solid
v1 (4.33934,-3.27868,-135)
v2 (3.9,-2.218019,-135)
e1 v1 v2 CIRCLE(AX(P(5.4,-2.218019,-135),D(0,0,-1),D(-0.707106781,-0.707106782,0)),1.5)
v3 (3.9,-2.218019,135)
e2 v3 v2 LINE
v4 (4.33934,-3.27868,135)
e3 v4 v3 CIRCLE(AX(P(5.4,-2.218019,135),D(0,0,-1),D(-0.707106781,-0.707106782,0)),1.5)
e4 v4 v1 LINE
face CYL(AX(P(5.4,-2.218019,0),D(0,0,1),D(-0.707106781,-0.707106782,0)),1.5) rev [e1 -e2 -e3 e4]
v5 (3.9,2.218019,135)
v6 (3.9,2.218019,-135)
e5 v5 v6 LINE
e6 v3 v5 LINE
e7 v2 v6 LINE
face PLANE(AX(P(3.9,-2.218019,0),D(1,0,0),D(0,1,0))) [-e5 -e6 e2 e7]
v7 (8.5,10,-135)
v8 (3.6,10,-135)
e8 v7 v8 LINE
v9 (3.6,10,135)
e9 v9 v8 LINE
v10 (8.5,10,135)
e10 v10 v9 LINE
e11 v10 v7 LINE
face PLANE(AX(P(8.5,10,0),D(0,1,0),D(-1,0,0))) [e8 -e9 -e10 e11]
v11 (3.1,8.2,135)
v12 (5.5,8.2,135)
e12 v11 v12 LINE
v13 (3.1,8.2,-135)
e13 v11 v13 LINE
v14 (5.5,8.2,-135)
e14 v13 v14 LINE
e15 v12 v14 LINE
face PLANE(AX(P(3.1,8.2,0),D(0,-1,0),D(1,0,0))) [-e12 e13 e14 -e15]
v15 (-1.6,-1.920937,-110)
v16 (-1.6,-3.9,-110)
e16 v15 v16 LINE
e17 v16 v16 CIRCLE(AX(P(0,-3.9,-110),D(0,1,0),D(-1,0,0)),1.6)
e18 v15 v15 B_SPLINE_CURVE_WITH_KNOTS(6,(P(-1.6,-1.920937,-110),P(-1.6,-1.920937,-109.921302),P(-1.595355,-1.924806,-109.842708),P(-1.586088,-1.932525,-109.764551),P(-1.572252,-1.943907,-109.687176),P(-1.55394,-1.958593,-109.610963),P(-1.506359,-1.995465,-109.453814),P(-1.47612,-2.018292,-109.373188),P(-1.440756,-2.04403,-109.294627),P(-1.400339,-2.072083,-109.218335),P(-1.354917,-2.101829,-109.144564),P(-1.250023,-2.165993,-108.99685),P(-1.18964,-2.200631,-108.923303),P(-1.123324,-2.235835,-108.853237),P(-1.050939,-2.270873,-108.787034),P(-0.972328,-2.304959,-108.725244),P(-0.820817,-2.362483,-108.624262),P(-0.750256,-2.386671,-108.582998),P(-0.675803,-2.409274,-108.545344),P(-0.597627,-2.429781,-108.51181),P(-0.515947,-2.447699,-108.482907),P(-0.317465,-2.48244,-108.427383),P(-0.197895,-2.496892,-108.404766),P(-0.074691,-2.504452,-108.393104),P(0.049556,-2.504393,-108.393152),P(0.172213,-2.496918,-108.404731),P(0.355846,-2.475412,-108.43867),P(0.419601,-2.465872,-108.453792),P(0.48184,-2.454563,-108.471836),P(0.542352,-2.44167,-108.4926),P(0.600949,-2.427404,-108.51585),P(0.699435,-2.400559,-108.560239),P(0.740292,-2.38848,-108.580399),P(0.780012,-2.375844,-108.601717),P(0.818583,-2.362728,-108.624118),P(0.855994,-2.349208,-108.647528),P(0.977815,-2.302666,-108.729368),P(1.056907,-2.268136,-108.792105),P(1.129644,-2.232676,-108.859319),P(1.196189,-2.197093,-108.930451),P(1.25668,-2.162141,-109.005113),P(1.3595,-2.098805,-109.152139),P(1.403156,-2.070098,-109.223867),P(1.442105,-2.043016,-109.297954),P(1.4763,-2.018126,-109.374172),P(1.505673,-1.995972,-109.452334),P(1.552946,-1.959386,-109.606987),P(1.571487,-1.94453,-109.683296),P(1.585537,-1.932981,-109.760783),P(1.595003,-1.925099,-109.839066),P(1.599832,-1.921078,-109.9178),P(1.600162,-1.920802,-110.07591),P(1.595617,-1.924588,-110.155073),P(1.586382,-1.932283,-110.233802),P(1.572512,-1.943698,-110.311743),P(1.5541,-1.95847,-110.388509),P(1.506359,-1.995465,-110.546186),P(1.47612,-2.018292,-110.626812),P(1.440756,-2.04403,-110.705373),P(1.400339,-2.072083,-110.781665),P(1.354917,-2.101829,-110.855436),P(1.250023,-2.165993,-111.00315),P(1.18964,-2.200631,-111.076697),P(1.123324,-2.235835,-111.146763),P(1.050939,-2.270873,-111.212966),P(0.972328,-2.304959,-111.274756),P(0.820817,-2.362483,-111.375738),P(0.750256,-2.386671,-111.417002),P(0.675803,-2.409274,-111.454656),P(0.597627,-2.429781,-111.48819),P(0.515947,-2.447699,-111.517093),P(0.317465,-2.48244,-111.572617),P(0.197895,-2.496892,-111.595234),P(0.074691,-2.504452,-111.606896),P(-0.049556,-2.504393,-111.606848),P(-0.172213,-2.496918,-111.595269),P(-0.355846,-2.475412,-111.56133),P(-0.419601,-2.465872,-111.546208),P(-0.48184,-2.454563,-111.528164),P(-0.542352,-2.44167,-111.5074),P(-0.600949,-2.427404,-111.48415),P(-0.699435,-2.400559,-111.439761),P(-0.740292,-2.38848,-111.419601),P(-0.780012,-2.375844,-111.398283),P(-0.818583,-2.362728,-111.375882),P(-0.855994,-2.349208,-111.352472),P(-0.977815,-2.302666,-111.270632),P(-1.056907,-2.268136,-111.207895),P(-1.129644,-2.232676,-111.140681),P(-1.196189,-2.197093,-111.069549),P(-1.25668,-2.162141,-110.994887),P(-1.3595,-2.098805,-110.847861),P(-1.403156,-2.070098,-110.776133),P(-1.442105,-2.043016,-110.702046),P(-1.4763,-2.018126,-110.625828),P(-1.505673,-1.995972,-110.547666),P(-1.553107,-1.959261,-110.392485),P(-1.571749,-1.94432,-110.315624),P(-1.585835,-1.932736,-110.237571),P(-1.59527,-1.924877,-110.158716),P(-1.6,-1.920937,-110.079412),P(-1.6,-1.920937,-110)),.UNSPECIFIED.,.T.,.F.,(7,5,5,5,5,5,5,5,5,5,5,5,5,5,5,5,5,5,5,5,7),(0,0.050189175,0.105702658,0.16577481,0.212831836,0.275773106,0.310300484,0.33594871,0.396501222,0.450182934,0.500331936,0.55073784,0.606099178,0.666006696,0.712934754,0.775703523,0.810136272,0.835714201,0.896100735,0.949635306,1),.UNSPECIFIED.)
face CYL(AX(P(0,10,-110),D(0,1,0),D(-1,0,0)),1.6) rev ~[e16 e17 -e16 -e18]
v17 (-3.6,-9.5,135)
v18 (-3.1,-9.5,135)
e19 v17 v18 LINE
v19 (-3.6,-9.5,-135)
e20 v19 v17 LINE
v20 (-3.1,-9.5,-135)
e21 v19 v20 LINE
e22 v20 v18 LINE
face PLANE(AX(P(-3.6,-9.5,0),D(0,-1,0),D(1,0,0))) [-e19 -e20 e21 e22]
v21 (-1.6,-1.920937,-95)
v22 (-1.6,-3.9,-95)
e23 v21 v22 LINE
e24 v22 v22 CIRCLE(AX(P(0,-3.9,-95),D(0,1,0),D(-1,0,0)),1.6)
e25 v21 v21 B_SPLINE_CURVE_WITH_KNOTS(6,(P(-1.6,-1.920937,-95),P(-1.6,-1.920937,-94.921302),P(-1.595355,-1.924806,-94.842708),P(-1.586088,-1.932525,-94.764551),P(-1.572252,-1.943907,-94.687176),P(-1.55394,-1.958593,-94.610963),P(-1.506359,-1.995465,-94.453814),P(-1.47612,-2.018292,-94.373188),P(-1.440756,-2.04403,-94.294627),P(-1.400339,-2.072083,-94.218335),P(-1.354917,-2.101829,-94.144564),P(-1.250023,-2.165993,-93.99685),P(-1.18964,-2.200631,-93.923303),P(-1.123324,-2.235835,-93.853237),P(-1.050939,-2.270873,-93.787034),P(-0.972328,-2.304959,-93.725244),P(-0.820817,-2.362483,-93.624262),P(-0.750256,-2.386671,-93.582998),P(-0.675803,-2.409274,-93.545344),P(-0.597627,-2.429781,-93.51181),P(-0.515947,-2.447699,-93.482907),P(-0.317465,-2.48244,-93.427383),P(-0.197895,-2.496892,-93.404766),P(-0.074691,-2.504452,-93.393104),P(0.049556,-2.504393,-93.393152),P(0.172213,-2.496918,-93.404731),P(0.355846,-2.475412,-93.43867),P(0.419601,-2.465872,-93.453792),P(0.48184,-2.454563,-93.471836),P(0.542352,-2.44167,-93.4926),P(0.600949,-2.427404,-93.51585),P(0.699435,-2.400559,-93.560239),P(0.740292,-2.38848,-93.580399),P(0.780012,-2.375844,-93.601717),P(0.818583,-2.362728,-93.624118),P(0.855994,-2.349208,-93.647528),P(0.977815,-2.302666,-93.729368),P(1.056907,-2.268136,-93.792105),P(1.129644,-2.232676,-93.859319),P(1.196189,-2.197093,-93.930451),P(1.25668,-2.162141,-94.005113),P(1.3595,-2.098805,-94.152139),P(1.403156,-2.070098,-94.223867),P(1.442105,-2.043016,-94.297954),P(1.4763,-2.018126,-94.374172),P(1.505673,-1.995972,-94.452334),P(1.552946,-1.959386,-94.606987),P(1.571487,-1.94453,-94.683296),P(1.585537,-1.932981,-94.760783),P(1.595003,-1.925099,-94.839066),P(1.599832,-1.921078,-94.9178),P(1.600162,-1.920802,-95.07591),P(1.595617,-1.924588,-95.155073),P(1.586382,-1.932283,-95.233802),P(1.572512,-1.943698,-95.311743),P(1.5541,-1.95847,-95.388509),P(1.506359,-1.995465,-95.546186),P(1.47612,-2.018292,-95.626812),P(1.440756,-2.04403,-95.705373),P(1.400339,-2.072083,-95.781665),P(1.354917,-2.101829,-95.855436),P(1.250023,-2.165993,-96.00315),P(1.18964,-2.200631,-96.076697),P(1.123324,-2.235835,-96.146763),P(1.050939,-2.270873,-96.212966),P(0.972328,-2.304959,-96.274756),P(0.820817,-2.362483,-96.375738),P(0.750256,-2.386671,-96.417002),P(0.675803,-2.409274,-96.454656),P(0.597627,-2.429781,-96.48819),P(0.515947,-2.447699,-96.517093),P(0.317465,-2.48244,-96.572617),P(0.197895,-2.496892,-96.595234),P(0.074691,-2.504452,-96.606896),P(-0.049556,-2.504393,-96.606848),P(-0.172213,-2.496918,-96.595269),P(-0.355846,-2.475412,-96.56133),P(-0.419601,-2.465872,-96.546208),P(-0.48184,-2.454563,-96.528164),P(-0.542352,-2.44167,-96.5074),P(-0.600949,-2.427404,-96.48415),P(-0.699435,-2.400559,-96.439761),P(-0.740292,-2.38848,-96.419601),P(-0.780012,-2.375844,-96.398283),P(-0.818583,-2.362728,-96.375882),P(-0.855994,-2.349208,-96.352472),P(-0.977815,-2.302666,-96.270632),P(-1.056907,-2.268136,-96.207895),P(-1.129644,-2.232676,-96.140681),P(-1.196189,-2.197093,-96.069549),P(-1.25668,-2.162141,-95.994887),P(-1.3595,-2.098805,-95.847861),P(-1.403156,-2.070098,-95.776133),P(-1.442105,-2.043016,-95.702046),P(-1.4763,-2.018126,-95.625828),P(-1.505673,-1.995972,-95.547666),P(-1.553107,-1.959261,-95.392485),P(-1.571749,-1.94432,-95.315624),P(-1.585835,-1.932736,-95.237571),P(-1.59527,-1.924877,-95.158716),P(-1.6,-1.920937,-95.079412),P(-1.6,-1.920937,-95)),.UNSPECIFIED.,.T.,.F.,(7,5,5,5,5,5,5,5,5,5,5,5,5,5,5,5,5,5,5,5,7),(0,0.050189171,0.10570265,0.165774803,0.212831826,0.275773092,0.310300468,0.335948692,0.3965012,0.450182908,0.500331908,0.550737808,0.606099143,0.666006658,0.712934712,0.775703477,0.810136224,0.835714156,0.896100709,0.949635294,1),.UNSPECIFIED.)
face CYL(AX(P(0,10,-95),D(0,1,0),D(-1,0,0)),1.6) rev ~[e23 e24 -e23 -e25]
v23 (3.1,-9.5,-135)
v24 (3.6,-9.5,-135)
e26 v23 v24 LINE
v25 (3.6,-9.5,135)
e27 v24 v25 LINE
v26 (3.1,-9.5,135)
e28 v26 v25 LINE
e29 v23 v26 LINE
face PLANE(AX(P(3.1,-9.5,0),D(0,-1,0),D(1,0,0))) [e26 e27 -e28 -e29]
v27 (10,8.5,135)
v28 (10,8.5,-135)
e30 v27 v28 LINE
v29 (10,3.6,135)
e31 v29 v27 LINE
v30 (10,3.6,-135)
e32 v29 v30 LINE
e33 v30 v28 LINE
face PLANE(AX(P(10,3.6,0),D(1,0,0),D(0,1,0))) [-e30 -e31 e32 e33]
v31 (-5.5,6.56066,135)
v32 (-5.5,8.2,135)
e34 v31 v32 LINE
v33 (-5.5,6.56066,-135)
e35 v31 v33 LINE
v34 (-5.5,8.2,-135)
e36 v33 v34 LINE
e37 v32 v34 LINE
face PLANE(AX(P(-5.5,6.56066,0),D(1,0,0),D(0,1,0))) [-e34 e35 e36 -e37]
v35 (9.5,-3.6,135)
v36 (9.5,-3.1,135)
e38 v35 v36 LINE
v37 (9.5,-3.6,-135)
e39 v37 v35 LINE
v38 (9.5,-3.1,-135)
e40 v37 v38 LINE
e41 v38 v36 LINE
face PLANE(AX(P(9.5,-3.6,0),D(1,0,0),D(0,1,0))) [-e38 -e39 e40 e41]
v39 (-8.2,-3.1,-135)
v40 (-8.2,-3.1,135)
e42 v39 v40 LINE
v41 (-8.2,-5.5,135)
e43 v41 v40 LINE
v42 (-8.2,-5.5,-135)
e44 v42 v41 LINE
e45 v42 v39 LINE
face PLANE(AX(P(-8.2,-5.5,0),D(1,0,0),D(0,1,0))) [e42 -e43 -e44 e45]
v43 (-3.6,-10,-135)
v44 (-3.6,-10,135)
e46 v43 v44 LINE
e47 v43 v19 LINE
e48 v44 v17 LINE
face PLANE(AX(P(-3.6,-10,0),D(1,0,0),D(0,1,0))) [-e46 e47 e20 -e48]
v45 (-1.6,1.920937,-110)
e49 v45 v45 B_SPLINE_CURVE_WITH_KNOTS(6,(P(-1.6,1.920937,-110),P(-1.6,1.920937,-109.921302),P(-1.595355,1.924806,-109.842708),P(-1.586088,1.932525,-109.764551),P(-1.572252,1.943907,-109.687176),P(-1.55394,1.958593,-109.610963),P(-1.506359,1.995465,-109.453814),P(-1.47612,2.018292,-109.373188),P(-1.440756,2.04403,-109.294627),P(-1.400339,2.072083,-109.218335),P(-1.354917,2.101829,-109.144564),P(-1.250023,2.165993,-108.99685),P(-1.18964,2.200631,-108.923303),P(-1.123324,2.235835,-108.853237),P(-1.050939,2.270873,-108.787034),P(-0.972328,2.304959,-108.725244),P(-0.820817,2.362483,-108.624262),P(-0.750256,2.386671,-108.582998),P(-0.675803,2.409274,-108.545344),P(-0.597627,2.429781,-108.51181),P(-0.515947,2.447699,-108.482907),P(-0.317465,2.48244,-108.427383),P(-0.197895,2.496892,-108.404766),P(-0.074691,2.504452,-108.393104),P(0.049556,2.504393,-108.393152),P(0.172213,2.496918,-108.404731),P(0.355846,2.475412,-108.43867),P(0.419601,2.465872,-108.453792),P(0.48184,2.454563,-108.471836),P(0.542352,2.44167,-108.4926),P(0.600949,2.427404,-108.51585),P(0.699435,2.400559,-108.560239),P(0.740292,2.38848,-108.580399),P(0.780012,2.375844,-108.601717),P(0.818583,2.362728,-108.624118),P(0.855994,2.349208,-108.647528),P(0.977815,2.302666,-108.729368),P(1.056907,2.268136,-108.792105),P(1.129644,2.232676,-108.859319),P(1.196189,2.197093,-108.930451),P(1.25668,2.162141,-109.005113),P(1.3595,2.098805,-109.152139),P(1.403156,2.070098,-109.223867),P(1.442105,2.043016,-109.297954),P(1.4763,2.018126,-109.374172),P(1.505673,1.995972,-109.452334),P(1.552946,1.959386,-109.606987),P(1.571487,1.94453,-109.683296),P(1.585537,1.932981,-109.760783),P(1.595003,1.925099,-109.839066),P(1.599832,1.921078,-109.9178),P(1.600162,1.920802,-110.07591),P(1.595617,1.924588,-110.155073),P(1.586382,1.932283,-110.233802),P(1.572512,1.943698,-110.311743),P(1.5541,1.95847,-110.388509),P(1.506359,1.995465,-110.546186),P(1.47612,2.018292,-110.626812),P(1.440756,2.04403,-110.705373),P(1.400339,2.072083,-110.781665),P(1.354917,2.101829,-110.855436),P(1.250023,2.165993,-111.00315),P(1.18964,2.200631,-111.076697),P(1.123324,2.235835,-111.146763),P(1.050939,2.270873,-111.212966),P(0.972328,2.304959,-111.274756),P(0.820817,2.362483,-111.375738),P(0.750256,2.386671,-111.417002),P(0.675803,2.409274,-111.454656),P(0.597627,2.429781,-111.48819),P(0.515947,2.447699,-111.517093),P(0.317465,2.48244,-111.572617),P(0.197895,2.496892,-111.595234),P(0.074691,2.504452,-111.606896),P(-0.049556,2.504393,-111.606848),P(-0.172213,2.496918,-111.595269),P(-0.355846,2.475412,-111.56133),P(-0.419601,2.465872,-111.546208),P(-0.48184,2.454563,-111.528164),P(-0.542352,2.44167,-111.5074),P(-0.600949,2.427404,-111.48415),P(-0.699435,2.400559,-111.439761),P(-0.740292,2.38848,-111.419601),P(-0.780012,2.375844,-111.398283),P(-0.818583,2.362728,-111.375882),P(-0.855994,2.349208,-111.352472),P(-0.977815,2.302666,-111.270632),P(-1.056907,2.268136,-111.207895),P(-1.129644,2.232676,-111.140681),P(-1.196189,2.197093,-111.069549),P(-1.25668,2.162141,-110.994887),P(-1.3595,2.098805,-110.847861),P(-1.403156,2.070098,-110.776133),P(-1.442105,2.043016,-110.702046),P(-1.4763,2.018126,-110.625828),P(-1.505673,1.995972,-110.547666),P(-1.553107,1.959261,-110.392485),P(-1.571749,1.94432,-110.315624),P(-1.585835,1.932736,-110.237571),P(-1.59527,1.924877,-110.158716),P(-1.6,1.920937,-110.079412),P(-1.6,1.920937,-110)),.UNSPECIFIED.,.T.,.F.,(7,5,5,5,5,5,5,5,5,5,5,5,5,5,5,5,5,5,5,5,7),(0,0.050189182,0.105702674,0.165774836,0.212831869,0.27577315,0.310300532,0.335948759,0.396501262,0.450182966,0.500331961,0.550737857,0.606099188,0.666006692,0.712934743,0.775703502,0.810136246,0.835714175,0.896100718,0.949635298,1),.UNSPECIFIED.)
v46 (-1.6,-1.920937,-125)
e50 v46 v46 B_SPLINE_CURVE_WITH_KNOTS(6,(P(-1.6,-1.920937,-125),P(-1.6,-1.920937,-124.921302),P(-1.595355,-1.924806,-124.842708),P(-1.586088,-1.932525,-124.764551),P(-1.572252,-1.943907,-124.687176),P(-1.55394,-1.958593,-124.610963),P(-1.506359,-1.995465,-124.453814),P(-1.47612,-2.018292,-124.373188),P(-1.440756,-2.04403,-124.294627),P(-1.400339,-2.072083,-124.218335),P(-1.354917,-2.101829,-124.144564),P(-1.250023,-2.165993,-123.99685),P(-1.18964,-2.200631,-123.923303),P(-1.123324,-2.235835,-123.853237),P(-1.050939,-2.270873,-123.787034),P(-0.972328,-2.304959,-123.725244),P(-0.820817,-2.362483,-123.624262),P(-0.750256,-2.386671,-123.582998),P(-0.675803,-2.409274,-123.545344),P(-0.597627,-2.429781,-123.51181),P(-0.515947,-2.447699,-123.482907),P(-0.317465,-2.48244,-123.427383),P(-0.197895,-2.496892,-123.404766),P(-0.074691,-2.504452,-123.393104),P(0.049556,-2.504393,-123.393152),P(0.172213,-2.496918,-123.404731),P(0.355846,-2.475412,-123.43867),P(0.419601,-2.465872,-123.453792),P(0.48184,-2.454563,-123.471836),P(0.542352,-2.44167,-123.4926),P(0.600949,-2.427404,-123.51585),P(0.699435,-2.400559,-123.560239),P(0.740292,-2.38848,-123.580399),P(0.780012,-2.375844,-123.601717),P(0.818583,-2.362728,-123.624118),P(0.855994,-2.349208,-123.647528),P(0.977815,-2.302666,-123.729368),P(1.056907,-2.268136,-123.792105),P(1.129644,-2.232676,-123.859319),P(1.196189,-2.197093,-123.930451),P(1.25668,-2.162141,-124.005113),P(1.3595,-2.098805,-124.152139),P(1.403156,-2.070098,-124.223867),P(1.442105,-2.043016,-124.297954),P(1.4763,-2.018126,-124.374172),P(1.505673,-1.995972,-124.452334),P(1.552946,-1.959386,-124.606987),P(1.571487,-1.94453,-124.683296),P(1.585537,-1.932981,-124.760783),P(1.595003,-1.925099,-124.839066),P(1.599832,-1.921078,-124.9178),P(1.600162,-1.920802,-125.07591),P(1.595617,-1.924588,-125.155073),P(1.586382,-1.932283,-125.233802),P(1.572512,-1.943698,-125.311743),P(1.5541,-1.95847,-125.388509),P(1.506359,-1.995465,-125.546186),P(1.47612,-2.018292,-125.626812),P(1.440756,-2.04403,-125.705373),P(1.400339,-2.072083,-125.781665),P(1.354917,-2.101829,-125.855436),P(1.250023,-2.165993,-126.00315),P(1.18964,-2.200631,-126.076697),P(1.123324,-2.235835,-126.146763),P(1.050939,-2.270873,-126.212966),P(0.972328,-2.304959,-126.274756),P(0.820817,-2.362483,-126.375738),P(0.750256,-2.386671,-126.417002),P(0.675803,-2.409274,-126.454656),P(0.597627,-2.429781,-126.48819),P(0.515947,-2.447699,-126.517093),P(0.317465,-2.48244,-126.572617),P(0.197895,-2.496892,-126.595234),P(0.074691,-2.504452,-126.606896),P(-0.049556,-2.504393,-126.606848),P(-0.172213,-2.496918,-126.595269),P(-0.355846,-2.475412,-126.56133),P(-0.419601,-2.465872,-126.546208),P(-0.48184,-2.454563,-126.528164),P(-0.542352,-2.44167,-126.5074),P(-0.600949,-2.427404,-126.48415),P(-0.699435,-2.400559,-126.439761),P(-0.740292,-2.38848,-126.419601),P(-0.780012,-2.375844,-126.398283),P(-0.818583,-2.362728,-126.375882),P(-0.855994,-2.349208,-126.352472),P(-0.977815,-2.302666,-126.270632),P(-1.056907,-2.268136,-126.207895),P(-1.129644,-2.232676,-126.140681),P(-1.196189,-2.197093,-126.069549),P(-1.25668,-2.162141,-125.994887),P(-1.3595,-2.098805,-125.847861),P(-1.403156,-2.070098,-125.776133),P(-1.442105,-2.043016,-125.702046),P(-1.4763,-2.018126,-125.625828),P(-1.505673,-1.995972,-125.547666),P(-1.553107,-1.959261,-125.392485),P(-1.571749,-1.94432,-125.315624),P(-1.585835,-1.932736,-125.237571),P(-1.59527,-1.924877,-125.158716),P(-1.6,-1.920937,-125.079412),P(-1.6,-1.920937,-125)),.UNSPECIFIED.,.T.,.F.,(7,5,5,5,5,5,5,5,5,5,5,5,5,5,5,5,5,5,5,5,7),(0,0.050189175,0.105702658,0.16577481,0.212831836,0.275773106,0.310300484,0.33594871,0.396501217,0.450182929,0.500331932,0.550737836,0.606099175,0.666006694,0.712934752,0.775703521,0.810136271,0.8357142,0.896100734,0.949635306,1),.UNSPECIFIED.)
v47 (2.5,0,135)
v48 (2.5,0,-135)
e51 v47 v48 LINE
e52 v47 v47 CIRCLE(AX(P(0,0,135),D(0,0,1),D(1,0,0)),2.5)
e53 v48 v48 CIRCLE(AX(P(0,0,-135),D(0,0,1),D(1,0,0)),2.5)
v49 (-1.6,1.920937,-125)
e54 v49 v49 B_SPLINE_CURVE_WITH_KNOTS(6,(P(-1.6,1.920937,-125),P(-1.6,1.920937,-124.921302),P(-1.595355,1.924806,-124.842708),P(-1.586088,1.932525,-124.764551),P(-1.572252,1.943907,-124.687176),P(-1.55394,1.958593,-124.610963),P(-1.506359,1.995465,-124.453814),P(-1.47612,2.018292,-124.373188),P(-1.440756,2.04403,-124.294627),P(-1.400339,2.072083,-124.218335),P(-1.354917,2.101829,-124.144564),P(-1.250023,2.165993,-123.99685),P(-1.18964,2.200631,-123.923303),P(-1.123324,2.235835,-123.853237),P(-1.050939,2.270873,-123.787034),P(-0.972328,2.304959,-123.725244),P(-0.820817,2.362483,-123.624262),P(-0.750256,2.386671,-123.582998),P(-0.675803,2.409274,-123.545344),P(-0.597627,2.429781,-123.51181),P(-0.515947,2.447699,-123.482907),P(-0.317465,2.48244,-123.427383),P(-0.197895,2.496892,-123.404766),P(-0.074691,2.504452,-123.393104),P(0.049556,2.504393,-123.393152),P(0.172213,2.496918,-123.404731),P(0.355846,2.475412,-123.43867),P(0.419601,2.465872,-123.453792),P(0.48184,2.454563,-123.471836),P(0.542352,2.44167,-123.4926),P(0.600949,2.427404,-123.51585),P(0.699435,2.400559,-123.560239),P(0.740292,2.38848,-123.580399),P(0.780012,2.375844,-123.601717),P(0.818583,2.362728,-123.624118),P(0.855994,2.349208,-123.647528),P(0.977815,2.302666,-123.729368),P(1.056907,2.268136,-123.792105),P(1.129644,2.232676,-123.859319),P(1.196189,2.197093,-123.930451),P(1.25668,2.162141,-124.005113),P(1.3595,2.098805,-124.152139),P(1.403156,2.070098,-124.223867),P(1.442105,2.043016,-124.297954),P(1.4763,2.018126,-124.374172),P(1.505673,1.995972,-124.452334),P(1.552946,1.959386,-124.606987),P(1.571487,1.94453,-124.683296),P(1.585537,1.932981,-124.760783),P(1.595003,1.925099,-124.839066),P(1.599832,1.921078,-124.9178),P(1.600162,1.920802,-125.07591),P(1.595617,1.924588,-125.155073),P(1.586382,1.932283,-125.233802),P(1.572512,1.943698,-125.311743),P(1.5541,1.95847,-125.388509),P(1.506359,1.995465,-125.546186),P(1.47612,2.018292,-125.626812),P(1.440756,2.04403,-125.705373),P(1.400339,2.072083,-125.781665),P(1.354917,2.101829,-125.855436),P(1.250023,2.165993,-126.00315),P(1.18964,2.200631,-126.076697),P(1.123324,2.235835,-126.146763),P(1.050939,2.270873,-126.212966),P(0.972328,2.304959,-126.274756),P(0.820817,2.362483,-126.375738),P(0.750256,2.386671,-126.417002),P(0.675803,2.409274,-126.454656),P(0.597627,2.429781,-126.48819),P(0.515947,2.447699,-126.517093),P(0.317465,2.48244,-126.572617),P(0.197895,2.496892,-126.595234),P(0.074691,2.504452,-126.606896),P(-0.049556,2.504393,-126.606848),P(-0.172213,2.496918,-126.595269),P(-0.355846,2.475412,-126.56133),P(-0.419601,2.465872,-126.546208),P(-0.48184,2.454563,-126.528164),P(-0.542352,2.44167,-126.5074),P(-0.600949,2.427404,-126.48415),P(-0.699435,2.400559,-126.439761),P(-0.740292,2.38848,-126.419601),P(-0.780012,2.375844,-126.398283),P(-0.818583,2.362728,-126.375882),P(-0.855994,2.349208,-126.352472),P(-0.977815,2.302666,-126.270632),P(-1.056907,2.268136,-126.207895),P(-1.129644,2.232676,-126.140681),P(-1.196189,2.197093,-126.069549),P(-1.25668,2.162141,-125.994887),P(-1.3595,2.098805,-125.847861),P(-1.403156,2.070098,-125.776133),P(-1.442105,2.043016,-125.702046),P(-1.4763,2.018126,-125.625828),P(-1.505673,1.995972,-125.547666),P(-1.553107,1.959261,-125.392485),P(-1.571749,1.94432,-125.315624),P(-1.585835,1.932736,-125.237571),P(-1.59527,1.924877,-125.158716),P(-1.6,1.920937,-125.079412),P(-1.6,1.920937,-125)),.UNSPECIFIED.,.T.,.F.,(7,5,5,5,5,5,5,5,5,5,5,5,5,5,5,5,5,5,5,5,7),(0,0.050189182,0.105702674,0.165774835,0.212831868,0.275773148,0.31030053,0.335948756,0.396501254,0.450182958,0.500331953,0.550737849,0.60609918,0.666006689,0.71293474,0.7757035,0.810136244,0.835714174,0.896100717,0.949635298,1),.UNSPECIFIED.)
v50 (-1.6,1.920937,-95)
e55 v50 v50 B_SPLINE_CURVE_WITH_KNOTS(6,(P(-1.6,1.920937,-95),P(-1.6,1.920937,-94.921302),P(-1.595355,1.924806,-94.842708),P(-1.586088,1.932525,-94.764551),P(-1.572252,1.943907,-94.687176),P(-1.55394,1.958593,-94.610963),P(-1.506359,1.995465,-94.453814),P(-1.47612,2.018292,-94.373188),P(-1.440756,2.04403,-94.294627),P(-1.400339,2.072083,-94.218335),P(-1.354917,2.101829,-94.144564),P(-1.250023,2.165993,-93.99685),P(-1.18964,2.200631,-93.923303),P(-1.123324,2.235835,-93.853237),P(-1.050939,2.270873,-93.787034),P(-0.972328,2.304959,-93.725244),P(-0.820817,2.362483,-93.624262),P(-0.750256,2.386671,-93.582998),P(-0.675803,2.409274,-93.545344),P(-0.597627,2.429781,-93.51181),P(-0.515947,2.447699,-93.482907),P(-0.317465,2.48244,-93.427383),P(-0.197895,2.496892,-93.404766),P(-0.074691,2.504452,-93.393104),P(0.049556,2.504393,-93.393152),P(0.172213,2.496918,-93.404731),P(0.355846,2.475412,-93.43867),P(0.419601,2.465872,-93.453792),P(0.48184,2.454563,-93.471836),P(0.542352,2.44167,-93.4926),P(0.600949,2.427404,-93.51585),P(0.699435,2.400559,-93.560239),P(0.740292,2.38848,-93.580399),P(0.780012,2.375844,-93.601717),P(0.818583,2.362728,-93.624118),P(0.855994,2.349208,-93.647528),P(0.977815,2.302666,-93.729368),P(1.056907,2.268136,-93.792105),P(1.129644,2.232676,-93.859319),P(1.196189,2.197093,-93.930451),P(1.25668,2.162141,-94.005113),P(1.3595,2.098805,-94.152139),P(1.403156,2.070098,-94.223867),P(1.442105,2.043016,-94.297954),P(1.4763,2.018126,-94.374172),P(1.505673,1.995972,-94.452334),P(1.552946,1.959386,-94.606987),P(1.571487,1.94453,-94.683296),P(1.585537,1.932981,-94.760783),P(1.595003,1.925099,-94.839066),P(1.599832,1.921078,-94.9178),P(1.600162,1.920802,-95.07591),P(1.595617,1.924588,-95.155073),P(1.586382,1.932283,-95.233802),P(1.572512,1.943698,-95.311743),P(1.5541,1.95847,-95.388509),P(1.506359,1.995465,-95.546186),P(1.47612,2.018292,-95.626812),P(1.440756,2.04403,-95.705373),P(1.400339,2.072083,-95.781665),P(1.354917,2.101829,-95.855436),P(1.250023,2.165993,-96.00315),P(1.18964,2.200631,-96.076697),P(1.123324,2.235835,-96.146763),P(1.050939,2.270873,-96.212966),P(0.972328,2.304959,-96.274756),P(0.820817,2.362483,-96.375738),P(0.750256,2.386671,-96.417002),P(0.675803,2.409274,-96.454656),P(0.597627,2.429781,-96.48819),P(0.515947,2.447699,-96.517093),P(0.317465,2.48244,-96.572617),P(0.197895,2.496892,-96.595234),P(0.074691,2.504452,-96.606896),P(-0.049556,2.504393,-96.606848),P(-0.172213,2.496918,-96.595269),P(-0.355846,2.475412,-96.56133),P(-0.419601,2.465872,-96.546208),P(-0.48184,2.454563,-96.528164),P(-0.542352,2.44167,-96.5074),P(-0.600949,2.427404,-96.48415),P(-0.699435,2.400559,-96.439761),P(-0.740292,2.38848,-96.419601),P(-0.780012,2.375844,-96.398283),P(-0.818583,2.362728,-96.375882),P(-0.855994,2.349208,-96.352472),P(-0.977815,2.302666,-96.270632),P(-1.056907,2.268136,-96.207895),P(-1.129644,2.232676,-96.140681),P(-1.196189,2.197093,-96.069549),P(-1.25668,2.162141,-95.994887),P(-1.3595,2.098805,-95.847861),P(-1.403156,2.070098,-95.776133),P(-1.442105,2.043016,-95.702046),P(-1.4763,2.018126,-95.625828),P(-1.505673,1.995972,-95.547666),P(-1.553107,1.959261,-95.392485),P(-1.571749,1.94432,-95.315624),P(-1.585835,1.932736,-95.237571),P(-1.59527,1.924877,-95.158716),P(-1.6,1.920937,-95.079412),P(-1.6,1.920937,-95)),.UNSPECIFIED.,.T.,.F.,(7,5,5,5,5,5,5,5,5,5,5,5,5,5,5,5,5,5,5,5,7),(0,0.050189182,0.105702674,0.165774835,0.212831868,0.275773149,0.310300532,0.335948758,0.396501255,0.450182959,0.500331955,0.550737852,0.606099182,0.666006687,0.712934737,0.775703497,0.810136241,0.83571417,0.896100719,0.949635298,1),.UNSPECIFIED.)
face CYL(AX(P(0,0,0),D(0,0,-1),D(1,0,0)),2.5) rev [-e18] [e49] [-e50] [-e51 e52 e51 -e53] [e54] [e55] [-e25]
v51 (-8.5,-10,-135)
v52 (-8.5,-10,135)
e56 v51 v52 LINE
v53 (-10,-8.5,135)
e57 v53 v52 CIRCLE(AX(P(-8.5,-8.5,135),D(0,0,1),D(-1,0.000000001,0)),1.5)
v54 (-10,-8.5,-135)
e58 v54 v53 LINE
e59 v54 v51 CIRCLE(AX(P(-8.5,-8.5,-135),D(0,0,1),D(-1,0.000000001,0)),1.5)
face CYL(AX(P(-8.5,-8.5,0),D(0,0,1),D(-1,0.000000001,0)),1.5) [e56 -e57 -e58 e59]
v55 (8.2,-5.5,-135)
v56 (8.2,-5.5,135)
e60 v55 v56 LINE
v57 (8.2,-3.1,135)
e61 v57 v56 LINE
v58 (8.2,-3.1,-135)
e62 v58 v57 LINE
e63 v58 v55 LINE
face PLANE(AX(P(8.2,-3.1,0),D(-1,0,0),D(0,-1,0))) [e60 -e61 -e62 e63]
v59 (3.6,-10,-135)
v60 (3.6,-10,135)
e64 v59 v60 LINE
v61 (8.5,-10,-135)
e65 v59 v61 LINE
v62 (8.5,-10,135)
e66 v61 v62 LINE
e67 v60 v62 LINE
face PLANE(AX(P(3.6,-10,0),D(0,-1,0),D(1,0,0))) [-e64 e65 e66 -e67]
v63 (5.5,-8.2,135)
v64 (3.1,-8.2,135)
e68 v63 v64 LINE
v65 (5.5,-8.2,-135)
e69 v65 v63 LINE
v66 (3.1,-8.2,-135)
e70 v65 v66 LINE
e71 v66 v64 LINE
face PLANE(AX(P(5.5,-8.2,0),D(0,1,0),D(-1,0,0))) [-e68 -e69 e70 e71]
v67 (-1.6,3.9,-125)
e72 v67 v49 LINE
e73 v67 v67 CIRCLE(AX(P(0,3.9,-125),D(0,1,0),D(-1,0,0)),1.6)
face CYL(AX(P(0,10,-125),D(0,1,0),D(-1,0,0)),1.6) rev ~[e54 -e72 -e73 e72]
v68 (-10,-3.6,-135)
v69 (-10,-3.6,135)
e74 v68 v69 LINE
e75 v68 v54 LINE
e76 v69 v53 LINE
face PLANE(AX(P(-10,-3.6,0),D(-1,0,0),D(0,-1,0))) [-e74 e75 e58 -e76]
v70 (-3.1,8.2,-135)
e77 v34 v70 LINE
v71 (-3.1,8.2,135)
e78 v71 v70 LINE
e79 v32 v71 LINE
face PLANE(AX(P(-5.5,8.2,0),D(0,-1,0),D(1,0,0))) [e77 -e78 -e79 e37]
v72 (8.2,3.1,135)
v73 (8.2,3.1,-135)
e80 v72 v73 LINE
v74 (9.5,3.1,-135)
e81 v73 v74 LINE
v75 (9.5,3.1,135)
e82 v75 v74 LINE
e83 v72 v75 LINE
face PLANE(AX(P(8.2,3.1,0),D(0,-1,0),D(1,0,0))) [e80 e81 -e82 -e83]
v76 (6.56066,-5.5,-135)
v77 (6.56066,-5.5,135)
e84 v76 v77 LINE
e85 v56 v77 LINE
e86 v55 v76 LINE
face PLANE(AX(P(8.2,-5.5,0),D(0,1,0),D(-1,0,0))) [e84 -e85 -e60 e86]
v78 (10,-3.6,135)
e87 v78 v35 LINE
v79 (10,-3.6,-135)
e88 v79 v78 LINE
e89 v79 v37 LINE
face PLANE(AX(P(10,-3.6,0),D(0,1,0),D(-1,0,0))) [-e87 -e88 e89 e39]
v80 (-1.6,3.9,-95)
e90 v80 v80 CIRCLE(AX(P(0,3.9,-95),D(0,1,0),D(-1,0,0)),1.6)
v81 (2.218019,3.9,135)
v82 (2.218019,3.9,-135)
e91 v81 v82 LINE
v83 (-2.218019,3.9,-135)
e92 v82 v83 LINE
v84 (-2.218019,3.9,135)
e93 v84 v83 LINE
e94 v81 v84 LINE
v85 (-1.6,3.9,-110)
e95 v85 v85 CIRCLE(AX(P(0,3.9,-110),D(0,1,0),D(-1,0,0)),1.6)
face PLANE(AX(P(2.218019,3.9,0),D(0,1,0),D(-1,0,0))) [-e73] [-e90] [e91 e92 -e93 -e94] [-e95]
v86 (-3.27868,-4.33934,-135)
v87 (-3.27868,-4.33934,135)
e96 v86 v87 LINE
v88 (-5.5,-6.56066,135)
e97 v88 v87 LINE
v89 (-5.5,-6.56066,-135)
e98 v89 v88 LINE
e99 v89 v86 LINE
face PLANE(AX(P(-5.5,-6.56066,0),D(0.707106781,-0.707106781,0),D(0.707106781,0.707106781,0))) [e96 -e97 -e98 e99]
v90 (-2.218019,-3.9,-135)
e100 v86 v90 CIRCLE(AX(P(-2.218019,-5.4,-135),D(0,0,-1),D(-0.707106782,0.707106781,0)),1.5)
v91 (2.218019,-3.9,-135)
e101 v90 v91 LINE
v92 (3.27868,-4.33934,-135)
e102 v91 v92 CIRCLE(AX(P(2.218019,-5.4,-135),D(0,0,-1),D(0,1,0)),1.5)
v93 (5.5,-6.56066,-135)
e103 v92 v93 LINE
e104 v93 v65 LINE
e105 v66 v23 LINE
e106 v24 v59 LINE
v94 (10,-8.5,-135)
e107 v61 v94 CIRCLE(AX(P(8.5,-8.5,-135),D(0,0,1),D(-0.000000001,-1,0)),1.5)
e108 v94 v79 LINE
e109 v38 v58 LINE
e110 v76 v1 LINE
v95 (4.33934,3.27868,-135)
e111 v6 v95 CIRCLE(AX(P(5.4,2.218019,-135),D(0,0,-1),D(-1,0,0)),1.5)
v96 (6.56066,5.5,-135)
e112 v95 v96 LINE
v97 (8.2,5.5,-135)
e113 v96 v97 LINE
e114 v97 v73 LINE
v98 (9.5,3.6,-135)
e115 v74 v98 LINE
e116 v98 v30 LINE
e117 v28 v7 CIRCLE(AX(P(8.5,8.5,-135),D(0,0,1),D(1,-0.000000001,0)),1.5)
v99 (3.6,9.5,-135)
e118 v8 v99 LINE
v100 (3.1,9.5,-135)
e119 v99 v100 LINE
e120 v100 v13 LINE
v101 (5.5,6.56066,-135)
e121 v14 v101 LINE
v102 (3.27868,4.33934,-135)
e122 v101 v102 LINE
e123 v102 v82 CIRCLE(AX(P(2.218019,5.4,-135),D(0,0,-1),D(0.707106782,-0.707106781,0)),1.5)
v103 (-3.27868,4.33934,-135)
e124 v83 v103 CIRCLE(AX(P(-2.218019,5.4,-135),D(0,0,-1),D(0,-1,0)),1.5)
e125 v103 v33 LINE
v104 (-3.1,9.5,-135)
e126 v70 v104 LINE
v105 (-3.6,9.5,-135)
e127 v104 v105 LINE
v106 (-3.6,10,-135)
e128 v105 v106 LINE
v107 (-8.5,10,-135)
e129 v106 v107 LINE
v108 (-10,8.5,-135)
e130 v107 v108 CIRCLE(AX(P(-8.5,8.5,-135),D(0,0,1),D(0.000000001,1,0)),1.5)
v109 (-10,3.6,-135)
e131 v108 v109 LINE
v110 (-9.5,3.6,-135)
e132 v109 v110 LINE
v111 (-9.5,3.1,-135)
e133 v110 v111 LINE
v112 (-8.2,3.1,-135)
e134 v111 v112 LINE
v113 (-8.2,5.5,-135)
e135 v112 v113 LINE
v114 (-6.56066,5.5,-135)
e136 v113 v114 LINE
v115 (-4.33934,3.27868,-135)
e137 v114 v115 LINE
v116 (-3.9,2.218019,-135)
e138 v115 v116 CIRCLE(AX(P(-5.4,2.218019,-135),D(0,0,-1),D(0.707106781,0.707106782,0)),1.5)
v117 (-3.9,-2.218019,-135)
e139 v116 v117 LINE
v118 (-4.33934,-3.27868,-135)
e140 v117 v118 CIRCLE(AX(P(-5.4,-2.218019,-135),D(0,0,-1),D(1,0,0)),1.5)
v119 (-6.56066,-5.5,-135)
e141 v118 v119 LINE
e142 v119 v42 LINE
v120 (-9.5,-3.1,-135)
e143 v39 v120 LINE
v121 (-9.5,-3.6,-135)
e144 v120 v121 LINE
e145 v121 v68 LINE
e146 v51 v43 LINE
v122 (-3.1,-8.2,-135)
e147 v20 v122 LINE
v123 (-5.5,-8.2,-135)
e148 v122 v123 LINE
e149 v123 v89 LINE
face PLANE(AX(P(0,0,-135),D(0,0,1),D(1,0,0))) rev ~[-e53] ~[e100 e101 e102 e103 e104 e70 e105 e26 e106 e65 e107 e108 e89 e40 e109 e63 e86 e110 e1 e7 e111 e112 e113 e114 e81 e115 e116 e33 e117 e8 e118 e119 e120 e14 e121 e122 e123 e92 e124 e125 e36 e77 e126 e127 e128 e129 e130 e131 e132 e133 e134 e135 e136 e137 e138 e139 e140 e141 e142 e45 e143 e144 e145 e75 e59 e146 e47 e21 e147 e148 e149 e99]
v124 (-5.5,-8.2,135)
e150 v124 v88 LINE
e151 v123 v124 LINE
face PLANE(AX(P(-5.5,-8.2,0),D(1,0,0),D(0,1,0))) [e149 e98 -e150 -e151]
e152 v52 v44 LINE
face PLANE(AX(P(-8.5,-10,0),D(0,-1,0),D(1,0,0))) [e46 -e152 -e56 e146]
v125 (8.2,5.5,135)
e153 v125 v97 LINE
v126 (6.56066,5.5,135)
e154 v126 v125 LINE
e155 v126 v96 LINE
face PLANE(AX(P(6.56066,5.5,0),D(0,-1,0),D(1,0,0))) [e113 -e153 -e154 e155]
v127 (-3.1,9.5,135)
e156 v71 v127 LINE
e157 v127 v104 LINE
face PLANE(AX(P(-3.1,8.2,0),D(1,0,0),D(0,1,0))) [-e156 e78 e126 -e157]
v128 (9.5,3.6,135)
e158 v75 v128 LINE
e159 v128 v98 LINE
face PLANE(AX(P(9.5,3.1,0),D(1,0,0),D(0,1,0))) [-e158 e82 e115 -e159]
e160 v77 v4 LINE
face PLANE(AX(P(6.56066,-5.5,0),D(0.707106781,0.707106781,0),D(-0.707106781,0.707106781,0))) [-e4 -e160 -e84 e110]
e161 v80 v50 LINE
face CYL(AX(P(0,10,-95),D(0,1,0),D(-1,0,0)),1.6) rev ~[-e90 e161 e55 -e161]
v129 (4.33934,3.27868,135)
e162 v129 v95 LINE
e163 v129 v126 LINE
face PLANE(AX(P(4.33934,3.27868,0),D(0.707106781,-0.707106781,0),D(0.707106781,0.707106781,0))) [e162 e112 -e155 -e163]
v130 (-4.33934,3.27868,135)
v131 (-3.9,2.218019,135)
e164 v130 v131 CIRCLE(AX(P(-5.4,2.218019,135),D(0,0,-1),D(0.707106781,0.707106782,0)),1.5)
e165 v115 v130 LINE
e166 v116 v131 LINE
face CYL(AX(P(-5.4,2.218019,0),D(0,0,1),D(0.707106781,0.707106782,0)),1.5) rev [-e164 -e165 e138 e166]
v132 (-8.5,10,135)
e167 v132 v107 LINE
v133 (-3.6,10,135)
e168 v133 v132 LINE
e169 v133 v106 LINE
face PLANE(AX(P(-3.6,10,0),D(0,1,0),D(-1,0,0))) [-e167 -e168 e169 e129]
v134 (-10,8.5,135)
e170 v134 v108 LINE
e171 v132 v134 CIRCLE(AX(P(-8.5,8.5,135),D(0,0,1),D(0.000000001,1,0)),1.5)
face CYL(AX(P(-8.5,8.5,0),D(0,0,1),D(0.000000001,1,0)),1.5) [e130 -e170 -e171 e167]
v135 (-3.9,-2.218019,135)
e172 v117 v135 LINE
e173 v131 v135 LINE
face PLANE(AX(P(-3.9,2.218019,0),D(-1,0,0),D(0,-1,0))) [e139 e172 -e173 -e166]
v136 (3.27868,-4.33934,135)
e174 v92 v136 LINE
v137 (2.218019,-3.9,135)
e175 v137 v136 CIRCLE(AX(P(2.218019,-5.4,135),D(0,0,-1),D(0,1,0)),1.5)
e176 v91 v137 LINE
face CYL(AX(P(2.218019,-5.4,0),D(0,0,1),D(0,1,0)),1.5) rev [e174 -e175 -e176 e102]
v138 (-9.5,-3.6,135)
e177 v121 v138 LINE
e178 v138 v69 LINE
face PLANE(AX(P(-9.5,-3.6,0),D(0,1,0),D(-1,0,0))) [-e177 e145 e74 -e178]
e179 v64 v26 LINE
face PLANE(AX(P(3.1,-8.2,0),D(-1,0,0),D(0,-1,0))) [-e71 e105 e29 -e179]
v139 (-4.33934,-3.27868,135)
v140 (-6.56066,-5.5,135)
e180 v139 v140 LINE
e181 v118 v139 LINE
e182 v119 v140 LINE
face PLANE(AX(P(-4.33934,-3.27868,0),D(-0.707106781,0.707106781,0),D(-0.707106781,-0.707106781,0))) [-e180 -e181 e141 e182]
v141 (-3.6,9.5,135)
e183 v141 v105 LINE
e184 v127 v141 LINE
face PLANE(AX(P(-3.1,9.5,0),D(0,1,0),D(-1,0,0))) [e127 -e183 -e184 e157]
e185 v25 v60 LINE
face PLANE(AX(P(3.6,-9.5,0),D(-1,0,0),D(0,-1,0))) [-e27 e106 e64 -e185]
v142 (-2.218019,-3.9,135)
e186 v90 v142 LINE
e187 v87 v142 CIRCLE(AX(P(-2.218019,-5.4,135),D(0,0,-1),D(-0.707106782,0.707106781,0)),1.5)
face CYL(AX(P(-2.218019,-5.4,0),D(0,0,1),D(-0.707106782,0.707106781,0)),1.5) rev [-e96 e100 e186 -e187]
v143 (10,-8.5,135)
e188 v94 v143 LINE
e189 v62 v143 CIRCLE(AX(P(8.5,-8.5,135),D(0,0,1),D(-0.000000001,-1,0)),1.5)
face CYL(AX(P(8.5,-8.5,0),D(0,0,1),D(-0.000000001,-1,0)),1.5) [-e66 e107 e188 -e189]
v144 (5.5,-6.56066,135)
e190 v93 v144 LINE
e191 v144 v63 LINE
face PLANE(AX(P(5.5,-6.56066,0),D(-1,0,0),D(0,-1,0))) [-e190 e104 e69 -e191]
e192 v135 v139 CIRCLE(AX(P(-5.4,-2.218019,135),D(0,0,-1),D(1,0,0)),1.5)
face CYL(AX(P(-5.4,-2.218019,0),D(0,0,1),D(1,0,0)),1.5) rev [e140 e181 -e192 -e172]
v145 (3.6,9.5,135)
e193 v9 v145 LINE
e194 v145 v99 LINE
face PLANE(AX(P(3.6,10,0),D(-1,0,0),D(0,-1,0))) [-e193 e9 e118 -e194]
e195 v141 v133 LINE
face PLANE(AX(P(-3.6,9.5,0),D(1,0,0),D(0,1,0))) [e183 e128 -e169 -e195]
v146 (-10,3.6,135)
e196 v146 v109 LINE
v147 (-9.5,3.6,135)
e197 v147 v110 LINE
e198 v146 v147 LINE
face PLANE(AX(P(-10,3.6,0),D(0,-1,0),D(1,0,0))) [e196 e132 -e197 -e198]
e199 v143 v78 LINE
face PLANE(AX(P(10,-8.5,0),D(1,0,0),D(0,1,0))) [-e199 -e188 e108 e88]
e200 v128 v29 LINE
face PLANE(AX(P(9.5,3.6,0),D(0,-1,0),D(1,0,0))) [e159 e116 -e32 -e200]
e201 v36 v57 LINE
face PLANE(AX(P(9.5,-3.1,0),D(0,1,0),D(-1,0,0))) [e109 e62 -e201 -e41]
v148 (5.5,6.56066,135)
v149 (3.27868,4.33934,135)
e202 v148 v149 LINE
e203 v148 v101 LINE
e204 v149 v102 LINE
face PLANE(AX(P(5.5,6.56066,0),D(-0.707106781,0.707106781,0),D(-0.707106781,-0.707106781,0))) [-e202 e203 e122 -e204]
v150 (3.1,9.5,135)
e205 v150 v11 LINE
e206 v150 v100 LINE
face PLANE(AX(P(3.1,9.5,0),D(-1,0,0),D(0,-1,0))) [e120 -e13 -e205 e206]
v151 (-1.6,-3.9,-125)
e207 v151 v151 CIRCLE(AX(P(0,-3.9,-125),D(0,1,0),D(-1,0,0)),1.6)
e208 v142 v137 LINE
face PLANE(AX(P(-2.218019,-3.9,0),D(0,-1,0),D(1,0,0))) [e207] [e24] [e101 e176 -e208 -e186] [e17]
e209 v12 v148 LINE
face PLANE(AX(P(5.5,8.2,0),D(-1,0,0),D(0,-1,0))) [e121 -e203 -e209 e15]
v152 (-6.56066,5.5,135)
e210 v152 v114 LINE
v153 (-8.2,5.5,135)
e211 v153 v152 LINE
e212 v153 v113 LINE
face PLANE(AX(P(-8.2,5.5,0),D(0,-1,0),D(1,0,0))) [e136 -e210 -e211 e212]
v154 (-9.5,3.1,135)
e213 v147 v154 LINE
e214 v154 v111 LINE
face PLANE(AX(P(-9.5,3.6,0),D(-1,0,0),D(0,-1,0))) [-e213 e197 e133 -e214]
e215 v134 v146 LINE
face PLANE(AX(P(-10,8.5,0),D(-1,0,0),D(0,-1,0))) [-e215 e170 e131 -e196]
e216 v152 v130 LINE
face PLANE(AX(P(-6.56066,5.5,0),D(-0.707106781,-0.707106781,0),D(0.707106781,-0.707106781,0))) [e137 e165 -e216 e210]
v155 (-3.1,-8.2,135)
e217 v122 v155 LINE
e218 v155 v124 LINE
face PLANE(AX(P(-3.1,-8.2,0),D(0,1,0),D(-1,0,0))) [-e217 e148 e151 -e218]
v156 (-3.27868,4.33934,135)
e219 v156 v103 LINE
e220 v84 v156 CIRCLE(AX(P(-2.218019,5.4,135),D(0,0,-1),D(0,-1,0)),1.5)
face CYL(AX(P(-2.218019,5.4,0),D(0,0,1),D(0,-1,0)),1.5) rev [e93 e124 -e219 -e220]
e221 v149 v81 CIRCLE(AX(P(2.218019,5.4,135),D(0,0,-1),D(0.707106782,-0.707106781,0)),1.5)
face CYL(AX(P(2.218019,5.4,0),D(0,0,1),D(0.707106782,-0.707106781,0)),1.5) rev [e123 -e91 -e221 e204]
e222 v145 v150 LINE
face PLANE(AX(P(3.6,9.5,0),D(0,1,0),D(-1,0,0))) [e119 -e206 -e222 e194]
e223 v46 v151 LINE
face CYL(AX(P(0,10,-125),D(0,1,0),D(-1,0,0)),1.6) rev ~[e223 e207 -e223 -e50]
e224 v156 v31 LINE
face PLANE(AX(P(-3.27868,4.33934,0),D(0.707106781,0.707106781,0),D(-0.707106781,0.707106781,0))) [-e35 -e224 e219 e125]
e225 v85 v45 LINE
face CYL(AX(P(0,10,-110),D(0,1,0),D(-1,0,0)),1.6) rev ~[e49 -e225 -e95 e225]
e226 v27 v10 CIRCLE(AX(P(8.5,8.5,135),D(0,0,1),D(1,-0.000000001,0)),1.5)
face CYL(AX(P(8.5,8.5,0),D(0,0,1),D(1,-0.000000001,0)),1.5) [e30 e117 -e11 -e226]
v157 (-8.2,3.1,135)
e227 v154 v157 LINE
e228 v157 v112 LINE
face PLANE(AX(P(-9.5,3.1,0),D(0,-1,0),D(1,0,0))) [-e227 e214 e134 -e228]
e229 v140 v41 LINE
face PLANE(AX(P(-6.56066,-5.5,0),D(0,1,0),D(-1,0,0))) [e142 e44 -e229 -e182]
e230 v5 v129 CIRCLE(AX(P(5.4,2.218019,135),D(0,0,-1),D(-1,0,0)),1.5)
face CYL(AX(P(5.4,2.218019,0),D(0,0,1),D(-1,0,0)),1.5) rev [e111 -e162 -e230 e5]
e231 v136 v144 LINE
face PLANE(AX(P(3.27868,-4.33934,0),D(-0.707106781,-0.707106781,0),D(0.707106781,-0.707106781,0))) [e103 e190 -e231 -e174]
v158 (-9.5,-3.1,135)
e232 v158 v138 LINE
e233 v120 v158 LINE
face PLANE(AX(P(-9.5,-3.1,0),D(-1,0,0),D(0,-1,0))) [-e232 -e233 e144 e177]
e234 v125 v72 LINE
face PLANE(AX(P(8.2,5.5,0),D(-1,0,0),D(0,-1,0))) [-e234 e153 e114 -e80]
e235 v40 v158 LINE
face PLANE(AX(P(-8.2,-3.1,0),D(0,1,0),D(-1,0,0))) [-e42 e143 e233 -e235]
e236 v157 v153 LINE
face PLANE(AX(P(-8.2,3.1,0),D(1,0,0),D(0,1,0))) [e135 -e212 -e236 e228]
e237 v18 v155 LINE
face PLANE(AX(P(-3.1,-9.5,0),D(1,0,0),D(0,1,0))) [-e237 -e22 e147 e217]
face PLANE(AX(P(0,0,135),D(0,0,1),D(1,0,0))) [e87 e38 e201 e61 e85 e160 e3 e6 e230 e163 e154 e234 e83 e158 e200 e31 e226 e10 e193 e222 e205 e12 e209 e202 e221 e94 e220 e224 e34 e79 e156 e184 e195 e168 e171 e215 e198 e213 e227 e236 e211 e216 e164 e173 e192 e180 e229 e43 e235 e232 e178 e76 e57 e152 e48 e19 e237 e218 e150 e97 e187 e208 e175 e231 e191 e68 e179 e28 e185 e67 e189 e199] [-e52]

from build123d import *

# Parameters (mm, degrees)
SKETCH_1_R          = 2.5
EXTRUDE_1_DEPTH     = 135
SKETCH_2_R          = 1.6
CUT_EXTRUDE_1_DEPTH = 137.839321834


with BuildPart() as part:
    # 草图1 → 凸台-拉伸1 (new, symmetric)
    with BuildSketch(Plane.XY):
        with BuildLine():
            Line((-6.560660172, 5.5), (-4.339339828, 3.278679656))
            ThreePointArc((-4.339339828, 3.278679656), (-4.014180701, 2.792044633), (-3.9, 2.218019485))
            Line((-3.9, 2.218019485), (-3.9, -2.218019485))
            ThreePointArc((-3.9, -2.218019485), (-4.014180701, -2.792044633), (-4.339339828, -3.278679656))
            Line((-4.339339828, -3.278679656), (-6.560660172, -5.5))
            Line((-6.560660172, -5.5), (-8.2, -5.5))
            Line((-8.2, -5.5), (-8.2, -3.1))
            Line((-8.2, -3.1), (-9.5, -3.1))
            Line((-9.5, -3.1), (-9.5, -3.6))
            Line((-9.5, -3.6), (-10, -3.6))
            Line((-10, -3.6), (-10, -8.5))
            ThreePointArc((-10, -8.5), (-9.560660172, -9.560660172), (-8.5, -10))
            Line((-8.5, -10), (-3.6, -10))
            Line((-3.6, -10), (-3.6, -9.5))
            Line((-3.6, -9.5), (-3.1, -9.5))
            Line((-3.1, -9.5), (-3.1, -8.2))
            Line((-3.1, -8.2), (-5.5, -8.2))
            Line((-5.5, -8.2), (-5.5, -6.560660172))
            Line((-5.5, -6.560660172), (-3.278679656, -4.339339828))
            ThreePointArc((-3.278679656, -4.339339828), (-2.792044633, -4.014180701), (-2.218019485, -3.9))
            Line((-2.218019485, -3.9), (2.218019485, -3.9))
            ThreePointArc((2.218019485, -3.9), (2.792044633, -4.014180701), (3.278679656, -4.339339828))
            Line((3.278679656, -4.339339828), (5.5, -6.560660172))
            Line((5.5, -6.560660172), (5.5, -8.2))
            Line((5.5, -8.2), (3.1, -8.2))
            Line((3.1, -8.2), (3.1, -9.5))
            Line((3.1, -9.5), (3.6, -9.5))
            Line((3.6, -9.5), (3.6, -10))
            Line((3.6, -10), (8.5, -10))
            ThreePointArc((8.5, -10), (9.560660172, -9.560660172), (10, -8.5))
            Line((10, -8.5), (10, -3.6))
            Line((10, -3.6), (9.5, -3.6))
            Line((9.5, -3.6), (9.5, -3.1))
            Line((9.5, -3.1), (8.2, -3.1))
            Line((8.2, -3.1), (8.2, -5.5))
            Line((8.2, -5.5), (6.560660172, -5.5))
            Line((6.560660172, -5.5), (4.339339828, -3.278679656))
            ThreePointArc((4.339339828, -3.278679656), (4.014180701, -2.792044633), (3.9, -2.218019485))
            Line((3.9, -2.218019485), (3.9, 2.218019485))
            ThreePointArc((3.9, 2.218019485), (4.014180701, 2.792044633), (4.339339828, 3.278679656))
            Line((4.339339828, 3.278679656), (6.560660172, 5.5))
            Line((6.560660172, 5.5), (8.2, 5.5))
            Line((8.2, 5.5), (8.2, 3.1))
            Line((8.2, 3.1), (9.5, 3.1))
            Line((9.5, 3.1), (9.5, 3.6))
            Line((9.5, 3.6), (10, 3.6))
            Line((10, 3.6), (10, 8.5))
            ThreePointArc((10, 8.5), (9.560660172, 9.560660172), (8.5, 10))
            Line((8.5, 10), (3.6, 10))
            Line((3.6, 10), (3.6, 9.5))
            Line((3.6, 9.5), (3.1, 9.5))
            Line((3.1, 9.5), (3.1, 8.2))
            Line((3.1, 8.2), (5.5, 8.2))
            Line((5.5, 8.2), (5.5, 6.560660172))
            Line((5.5, 6.560660172), (3.278679656, 4.339339828))
            ThreePointArc((3.278679656, 4.339339828), (2.792044633, 4.014180701), (2.218019485, 3.9))
            Line((2.218019485, 3.9), (-2.218019485, 3.9))
            ThreePointArc((-2.218019485, 3.9), (-2.792044633, 4.014180701), (-3.278679656, 4.339339828))
            Line((-3.278679656, 4.339339828), (-5.5, 6.560660172))
            Line((-5.5, 6.560660172), (-5.5, 8.2))
            Line((-5.5, 8.2), (-3.1, 8.2))
            Line((-3.1, 8.2), (-3.1, 9.5))
            Line((-3.1, 9.5), (-3.6, 9.5))
            Line((-3.6, 9.5), (-3.6, 10))
            Line((-3.6, 10), (-8.5, 10))
            ThreePointArc((-8.5, 10), (-9.560660172, 9.560660172), (-10, 8.5))
            Line((-10, 8.5), (-10, 3.6))
            Line((-10, 3.6), (-9.5, 3.6))
            Line((-9.5, 3.6), (-9.5, 3.1))
            Line((-9.5, 3.1), (-8.2, 3.1))
            Line((-8.2, 3.1), (-8.2, 5.5))
            Line((-8.2, 5.5), (-6.560660172, 5.5))
        make_face()
        Circle(SKETCH_1_R, mode=Mode.SUBTRACT)
    extrude(amount=EXTRUDE_1_DEPTH, both=True)

    # 草图2 → 切除-拉伸1 (cut, through all)
    with BuildSketch(Plane(origin=(0, 10, 0), x_dir=(1, 0, 0), z_dir=(0, 1, 0))):
        with Locations(Location((0, 125, 0), (0, 0, 180))):
            Circle(SKETCH_2_R)
        with Locations(Location((0, 110, 0), (0, 0, 180))):
            Circle(SKETCH_2_R)
        with Locations(Location((0, 95, 0), (0, 0, 180))):
            Circle(SKETCH_2_R)
    extrude(amount=-CUT_EXTRUDE_1_DEPTH, mode=Mode.SUBTRACT)


solid = part.part
